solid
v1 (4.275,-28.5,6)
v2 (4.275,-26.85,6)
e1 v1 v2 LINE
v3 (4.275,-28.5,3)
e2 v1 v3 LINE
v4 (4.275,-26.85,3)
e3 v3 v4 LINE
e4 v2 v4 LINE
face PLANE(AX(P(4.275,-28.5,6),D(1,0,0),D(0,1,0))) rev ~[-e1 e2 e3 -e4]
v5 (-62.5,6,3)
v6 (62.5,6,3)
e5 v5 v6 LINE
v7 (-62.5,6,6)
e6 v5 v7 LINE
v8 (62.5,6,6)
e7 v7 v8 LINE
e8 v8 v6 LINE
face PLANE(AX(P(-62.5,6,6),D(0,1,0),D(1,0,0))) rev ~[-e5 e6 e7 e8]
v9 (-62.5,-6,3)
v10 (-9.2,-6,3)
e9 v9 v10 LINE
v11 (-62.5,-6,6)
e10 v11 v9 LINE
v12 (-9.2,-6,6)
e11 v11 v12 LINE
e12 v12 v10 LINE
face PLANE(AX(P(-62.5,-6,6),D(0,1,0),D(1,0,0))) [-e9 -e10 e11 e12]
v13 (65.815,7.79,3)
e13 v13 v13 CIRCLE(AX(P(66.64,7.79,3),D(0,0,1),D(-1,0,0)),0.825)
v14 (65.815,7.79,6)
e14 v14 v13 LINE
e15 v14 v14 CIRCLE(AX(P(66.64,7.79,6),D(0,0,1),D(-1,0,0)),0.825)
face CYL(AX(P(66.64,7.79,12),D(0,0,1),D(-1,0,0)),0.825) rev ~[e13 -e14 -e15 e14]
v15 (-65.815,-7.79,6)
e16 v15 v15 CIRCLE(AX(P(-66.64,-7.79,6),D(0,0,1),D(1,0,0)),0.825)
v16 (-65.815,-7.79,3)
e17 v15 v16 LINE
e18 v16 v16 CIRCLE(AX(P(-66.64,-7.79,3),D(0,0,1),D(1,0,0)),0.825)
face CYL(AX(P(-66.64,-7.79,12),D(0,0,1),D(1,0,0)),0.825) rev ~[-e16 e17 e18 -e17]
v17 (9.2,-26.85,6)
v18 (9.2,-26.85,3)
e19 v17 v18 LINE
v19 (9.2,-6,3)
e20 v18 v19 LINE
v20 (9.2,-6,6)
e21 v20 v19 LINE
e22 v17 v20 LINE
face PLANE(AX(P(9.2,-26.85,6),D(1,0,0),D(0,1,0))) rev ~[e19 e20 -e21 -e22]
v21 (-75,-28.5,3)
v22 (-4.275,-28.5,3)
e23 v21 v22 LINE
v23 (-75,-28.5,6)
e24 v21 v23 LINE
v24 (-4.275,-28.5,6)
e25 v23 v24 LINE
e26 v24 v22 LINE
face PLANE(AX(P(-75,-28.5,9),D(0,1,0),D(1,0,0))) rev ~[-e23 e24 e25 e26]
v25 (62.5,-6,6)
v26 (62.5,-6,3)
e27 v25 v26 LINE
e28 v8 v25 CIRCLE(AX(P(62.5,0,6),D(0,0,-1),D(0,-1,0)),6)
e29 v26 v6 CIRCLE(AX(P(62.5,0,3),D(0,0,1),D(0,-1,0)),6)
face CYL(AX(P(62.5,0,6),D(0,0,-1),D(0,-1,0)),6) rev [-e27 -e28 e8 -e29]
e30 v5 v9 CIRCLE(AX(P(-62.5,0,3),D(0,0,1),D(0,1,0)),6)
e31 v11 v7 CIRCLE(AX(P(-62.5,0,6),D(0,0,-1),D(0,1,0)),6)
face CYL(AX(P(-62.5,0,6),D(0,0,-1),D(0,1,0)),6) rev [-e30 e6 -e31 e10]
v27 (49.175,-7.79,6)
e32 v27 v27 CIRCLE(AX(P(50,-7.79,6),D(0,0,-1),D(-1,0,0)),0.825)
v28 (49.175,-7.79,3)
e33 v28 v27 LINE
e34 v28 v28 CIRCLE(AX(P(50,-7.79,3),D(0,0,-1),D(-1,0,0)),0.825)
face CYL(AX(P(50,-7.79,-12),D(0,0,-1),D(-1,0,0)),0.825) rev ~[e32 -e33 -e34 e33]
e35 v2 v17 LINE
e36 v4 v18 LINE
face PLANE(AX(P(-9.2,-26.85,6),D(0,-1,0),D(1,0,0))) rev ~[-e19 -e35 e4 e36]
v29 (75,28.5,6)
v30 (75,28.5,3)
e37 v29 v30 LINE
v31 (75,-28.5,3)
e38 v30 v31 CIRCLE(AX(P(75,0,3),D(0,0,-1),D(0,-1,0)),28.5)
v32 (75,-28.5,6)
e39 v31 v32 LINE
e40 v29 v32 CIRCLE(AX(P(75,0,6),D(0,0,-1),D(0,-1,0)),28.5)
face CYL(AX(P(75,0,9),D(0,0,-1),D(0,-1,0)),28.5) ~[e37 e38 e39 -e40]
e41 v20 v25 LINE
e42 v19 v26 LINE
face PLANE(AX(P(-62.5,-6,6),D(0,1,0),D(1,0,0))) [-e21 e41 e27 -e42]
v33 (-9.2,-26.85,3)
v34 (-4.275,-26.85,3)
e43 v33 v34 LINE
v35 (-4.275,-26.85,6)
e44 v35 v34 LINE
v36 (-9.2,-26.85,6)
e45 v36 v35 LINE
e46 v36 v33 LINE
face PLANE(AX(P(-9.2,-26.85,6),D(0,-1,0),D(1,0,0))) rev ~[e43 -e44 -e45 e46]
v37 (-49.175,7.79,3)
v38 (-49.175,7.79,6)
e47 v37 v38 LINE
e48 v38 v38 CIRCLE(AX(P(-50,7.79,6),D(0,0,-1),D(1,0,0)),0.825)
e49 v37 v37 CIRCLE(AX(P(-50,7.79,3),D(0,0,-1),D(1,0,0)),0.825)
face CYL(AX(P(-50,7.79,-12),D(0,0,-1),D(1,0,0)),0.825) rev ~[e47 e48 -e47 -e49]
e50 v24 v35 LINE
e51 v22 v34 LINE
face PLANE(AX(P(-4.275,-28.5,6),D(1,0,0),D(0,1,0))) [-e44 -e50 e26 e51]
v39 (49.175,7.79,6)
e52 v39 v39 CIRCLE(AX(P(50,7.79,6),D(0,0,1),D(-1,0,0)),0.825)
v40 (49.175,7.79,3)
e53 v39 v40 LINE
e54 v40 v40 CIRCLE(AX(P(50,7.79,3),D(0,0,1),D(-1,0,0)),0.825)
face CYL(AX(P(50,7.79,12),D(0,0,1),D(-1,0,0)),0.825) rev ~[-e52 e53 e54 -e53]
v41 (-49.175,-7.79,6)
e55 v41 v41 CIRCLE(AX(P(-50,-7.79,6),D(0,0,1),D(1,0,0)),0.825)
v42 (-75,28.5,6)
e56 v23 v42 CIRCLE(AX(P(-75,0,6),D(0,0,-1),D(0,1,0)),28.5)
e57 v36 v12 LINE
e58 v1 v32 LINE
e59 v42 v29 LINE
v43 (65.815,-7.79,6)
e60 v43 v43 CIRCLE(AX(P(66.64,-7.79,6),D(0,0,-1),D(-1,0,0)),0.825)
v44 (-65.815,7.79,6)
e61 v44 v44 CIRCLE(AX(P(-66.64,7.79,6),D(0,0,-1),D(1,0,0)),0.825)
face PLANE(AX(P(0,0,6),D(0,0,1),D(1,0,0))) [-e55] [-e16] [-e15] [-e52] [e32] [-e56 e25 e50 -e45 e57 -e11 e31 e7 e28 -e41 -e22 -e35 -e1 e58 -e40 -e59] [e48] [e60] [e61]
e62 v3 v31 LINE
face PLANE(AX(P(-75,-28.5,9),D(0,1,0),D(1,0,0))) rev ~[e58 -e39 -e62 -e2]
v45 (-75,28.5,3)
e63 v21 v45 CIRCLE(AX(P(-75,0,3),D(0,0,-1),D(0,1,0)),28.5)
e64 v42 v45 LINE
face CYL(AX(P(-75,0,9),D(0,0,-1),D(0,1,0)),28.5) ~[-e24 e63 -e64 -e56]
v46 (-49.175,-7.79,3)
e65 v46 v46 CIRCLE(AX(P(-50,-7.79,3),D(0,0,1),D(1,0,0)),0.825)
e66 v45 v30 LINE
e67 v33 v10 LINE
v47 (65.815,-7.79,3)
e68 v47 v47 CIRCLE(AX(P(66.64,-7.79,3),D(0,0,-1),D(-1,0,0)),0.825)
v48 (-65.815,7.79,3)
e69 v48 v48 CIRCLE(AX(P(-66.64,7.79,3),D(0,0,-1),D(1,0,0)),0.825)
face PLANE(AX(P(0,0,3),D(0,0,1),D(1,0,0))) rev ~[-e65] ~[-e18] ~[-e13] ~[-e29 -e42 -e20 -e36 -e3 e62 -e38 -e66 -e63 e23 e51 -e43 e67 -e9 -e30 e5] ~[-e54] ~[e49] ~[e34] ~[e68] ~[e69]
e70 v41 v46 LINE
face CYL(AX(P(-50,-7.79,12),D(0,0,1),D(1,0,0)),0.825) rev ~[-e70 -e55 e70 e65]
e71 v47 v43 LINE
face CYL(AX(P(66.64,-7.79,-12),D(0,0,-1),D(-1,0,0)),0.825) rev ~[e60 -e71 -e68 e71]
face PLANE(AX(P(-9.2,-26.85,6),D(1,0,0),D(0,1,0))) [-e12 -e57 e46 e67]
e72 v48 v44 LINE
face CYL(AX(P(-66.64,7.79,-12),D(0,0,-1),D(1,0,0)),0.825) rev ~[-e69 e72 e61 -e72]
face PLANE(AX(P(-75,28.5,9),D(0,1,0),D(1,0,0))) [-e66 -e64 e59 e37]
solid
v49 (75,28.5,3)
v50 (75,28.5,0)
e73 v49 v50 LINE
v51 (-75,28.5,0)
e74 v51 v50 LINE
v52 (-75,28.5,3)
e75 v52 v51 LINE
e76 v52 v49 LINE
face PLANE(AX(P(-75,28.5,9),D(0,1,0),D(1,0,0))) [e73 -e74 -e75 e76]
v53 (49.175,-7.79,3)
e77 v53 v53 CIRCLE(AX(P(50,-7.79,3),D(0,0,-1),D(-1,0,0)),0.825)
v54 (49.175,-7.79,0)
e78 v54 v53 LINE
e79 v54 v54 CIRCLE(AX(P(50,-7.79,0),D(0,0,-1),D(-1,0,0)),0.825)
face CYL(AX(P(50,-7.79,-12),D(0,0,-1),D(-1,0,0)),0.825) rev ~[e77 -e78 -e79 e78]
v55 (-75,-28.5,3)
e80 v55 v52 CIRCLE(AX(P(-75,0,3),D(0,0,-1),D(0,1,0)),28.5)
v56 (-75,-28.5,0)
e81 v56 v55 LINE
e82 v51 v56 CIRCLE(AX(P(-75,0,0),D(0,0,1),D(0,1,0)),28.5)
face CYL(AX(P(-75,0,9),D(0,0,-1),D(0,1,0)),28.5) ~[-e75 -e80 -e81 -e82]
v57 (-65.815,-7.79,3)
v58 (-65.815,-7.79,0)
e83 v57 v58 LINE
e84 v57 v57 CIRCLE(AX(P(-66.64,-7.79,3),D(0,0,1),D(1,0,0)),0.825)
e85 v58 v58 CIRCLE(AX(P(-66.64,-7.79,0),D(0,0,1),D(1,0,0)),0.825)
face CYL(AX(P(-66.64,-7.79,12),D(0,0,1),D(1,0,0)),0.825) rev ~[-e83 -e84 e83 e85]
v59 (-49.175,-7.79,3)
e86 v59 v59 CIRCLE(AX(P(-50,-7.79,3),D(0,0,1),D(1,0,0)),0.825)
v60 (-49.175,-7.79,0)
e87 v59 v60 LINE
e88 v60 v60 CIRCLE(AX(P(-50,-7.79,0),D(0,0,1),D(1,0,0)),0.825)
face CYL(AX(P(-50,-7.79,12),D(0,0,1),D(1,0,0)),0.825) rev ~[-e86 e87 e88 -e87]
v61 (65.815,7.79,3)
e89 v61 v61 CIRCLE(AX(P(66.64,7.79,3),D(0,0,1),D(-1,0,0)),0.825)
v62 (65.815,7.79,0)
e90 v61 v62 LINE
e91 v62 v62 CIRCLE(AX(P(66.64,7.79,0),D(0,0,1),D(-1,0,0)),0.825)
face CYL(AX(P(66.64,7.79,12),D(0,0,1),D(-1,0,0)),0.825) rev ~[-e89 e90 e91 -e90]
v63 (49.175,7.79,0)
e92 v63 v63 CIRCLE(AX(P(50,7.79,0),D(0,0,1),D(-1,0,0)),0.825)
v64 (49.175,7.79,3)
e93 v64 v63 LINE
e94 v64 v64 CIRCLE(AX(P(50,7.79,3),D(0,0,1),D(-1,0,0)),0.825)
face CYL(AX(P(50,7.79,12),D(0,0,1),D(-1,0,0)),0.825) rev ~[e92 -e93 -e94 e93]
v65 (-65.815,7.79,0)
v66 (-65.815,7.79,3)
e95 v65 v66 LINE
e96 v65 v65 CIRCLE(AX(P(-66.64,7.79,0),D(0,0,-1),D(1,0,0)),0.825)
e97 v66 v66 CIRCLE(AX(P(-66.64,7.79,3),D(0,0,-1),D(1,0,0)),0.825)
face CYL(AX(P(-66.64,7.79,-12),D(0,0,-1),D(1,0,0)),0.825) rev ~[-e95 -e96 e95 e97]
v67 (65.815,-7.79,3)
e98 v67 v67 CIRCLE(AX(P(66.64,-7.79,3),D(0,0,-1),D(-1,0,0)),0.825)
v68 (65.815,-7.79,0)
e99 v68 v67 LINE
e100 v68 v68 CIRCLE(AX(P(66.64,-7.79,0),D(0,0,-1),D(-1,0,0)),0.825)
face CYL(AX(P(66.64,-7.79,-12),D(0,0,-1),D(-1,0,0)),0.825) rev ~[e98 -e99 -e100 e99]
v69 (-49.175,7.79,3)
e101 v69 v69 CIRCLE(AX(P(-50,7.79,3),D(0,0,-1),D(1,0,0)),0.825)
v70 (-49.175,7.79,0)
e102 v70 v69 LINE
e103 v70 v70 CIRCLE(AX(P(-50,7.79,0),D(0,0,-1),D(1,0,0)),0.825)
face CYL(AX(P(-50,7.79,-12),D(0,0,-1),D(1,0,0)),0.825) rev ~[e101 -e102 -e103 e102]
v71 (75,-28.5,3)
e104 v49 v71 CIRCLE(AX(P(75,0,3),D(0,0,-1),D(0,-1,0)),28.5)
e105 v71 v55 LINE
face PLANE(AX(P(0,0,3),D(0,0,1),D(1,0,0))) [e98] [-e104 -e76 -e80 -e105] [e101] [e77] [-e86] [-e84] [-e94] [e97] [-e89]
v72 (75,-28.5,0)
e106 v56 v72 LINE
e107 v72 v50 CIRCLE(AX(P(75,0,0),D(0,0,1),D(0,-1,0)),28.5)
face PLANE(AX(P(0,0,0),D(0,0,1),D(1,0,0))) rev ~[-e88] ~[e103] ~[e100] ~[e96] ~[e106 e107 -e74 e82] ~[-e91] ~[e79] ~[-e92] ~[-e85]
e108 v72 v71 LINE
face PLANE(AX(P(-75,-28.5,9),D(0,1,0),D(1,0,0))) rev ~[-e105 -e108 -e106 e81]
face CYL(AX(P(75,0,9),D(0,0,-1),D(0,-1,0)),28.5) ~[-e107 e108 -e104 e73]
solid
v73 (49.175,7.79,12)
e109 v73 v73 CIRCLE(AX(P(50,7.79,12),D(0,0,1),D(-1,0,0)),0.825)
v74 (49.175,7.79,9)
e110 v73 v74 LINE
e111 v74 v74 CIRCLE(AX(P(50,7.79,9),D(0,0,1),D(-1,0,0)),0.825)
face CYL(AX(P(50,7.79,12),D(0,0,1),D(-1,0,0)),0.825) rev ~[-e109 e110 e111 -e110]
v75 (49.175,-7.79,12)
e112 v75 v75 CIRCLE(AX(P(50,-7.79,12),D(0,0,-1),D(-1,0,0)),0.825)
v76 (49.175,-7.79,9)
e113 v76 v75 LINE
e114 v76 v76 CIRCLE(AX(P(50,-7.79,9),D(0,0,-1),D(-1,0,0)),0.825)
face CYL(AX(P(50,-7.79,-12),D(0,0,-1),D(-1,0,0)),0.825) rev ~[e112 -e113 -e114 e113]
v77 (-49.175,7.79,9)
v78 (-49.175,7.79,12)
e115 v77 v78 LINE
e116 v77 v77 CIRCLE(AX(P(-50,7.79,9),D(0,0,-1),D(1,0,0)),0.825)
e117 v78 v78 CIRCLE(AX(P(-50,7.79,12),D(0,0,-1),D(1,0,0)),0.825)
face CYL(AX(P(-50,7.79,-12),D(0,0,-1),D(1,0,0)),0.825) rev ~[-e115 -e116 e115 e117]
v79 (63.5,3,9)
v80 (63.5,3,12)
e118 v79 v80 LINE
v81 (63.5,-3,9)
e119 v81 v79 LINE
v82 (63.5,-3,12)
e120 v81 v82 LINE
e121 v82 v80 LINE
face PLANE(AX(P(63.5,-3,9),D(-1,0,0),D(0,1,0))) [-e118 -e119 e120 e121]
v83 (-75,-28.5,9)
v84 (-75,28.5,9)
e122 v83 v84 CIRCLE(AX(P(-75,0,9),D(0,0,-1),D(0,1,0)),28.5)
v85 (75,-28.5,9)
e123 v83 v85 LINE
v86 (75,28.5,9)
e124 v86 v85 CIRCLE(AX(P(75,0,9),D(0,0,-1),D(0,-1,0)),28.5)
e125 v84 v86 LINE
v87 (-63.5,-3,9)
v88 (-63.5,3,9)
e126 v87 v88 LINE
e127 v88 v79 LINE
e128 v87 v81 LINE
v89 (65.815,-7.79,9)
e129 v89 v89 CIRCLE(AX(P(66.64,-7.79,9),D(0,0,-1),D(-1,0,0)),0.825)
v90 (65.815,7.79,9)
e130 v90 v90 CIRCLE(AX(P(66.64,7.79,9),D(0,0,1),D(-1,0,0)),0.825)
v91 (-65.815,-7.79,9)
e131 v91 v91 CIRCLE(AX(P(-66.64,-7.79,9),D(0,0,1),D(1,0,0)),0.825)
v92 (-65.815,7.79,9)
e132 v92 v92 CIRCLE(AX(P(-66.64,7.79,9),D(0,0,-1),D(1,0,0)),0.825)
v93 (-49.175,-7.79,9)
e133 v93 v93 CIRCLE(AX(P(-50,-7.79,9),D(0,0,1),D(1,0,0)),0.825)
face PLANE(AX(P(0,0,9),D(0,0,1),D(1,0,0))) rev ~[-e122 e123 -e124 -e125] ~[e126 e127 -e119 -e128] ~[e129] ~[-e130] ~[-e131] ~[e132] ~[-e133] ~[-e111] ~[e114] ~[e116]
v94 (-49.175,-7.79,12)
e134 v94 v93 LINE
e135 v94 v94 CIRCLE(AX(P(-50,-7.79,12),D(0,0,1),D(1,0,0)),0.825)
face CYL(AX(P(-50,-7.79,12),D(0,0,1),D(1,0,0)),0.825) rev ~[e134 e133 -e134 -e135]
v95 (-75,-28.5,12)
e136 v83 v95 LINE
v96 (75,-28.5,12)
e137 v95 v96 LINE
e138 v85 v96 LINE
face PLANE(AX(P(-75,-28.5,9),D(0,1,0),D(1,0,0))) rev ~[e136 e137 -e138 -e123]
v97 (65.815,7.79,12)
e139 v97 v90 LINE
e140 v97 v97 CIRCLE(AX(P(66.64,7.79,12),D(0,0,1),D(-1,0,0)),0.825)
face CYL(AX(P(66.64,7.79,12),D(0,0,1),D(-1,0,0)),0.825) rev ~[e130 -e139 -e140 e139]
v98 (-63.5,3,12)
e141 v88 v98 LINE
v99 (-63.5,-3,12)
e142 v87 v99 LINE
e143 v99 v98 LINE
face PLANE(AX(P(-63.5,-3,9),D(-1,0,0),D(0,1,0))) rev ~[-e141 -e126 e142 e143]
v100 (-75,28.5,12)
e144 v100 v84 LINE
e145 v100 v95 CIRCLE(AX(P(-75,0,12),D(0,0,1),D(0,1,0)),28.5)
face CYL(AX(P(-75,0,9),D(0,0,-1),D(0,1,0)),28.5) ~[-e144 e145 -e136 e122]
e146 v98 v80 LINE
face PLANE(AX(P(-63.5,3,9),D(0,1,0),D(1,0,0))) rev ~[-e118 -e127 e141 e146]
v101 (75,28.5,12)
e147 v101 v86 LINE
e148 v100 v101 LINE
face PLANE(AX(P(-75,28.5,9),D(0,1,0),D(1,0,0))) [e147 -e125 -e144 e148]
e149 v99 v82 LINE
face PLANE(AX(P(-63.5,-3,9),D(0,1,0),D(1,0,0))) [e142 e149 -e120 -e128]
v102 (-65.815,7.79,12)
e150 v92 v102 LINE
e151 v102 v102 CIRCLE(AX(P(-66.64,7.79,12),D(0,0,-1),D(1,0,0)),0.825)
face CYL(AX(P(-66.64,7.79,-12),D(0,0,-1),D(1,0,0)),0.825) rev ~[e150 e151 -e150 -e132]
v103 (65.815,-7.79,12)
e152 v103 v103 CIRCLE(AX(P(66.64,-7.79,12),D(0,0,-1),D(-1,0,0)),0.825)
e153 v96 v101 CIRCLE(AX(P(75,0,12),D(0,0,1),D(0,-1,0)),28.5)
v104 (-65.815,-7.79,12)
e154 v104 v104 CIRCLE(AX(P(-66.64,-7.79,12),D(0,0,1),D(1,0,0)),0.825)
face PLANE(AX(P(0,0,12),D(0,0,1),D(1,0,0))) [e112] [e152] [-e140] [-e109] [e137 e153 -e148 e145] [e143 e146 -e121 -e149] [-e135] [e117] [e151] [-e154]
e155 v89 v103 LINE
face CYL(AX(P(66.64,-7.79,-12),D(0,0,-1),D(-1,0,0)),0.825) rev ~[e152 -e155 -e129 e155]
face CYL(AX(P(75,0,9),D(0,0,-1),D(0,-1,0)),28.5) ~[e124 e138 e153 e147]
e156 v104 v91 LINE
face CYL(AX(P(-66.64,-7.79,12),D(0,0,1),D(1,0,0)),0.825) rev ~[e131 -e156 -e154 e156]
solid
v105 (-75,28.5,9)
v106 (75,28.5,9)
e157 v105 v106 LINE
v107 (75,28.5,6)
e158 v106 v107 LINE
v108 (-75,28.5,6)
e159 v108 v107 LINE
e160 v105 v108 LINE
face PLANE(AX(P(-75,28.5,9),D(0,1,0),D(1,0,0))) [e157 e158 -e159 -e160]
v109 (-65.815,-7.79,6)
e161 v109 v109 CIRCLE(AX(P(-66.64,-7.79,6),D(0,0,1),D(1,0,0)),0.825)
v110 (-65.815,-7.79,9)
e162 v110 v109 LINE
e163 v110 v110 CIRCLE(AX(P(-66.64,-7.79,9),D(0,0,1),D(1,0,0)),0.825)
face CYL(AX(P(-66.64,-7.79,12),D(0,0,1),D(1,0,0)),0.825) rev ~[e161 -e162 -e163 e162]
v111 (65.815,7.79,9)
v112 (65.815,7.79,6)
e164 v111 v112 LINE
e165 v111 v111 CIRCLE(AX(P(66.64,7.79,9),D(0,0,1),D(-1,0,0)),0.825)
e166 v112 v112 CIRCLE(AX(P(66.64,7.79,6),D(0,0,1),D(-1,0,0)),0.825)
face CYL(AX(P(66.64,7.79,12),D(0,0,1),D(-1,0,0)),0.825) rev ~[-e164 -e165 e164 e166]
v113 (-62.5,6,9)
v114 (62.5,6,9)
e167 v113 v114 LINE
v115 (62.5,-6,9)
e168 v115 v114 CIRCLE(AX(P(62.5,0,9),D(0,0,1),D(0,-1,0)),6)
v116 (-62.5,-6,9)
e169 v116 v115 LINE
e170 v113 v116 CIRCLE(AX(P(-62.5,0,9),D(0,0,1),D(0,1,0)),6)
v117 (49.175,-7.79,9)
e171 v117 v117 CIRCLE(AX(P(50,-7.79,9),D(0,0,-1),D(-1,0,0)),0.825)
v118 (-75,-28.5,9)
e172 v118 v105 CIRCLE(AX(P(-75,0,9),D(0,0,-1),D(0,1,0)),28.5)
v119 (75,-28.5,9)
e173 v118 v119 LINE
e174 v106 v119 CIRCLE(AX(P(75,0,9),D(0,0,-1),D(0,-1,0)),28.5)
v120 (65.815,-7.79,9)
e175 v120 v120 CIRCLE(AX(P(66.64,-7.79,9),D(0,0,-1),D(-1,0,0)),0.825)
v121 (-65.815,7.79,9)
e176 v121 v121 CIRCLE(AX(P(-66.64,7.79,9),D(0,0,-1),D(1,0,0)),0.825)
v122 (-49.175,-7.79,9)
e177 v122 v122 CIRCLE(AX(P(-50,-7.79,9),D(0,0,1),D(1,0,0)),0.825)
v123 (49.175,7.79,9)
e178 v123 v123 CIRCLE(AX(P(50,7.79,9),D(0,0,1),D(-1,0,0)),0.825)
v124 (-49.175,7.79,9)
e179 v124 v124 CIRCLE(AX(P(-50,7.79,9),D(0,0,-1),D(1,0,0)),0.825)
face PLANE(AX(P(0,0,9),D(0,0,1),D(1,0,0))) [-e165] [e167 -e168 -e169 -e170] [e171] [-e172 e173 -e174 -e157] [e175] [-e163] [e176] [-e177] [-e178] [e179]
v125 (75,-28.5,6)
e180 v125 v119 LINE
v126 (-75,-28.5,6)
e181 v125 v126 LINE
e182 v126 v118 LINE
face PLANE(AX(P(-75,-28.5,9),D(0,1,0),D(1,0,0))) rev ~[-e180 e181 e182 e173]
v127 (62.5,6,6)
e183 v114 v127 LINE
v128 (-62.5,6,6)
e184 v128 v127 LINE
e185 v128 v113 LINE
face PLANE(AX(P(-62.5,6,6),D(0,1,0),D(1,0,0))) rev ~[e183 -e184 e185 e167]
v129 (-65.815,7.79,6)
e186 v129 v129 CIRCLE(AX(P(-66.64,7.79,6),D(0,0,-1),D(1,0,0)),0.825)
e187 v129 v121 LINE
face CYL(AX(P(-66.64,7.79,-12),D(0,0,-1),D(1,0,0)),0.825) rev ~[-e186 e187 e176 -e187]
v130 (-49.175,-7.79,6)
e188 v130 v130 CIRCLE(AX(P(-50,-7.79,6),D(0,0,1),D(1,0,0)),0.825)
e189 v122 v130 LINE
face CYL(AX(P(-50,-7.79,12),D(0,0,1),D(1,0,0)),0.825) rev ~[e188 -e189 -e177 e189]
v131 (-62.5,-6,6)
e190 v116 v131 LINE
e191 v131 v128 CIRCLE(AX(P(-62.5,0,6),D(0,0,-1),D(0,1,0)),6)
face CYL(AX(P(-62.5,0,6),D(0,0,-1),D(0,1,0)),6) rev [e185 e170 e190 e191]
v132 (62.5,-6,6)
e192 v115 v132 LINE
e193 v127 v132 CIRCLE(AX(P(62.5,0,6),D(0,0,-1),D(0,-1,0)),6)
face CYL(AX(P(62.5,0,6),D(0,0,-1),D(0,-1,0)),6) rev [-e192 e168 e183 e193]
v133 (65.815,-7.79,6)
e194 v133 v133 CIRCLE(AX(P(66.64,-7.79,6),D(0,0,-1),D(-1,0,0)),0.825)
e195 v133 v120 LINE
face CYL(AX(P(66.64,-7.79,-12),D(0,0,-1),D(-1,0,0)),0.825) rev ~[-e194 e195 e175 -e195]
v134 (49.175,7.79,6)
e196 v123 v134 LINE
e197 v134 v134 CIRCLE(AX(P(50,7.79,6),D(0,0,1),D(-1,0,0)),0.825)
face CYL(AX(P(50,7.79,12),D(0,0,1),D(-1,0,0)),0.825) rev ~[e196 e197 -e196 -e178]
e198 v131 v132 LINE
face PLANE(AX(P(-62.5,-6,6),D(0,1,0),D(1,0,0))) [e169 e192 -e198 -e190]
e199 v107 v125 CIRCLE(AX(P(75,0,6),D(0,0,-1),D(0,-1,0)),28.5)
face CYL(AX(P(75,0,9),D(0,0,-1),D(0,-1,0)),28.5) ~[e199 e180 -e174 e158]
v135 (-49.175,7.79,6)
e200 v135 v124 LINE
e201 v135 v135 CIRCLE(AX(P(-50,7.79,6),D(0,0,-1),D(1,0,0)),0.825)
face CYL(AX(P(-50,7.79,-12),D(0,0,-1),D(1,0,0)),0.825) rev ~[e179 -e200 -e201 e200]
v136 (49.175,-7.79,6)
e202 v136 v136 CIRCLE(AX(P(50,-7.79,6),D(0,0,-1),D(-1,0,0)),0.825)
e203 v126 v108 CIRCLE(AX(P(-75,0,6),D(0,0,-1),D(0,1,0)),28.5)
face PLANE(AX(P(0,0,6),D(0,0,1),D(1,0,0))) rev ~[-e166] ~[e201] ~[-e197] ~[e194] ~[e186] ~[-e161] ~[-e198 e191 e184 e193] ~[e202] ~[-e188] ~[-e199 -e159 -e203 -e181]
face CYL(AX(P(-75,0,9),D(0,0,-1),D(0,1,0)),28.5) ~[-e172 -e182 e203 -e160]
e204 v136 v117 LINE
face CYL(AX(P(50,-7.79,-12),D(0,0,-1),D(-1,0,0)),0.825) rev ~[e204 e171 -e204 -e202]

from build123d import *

# Parameters (mm, degrees)
BOX_BOTTOM_HALF_1_W     = 209
BOX_BOTTOM_HALF_1_H     = 59
BOX_BOTTOM_HALF_1_DEPTH = 4
BOX_BOTTOM_HALF_0_W     = 209
BOX_BOTTOM_HALF_0_H     = 59
BOX_BOTTOM_HALF_0_DEPTH = 7
PAD_DEPTH               = 6
POCKET_DEPTH            = 3
SKETCH002_W             = 18.4
SKETCH002_H             = 20.85
POCKET001_DEPTH         = 3
SKETCH003_W             = 8.55
SKETCH003_H             = 1.65
POCKET002_DEPTH         = 3
PAD001_DEPTH            = 3
SKETCH005_W             = 127
SKETCH005_H             = 6
PAD002_DEPTH            = 3
SKETCH006_R             = 0.825
POCKET003_DEPTH         = 442.080062
POLARPATTERN_COUNT      = 2
POLARPATTERN001_COUNT   = 2
POLARPATTERN002_COUNT   = 2
BOX_BOTTOM_HALF_2_W     = 209
BOX_BOTTOM_HALF_2_H     = 59
BOX_BOTTOM_HALF_2_DEPTH = 4


with BuildPart() as box_bottom_half_1_body:
    # box_bottom_half_1 → box_bottom_half_1 (new body)
    with BuildSketch(Plane(origin=(-104.5, -29.5, -1), x_dir=(1, 0, 0), z_dir=(0, 0, 1))):
        with Locations((104.5, 29.5)):
            Rectangle(BOX_BOTTOM_HALF_1_W, BOX_BOTTOM_HALF_1_H)
    extrude(amount=BOX_BOTTOM_HALF_1_DEPTH)


with BuildPart() as box_bottom_half_0_body:
    # box_bottom_half_0 → box_bottom_half_0 (new body)
    with BuildSketch(Plane(origin=(-104.5, -29.5, -1), x_dir=(1, 0, 0), z_dir=(0, 0, 1))):
        with Locations((104.5, 29.5)):
            Rectangle(BOX_BOTTOM_HALF_0_W, BOX_BOTTOM_HALF_0_H)
    extrude(amount=BOX_BOTTOM_HALF_0_DEPTH)


with BuildPart() as body:
    # Sketch → Pad (new body)
    with BuildSketch(Plane.XY):
        with BuildLine():
            ThreePointArc((-75, 28.5), (-103.5, 0), (-75, -28.5))
            Line((-75, -28.5), (75, -28.5))
            ThreePointArc((75, -28.5), (103.5, 0), (75, 28.5))
            Line((-75, 28.5), (75, 28.5))
        make_face()
    extrude(amount=PAD_DEPTH)

    # Sketch001 (on Face6 of Pad) → Pocket (cut)
    with BuildSketch(Plane.XY.offset(6)):
        with BuildLine():
            ThreePointArc((-62.5, 6), (-68.5, 0), (-62.5, -6))
            Line((-62.5, -6), (62.5, -6))
            ThreePointArc((62.5, -6), (68.5, 0), (62.5, 6))
            Line((-62.5, 6), (62.5, 6))
        make_face()
    extrude(amount=-POCKET_DEPTH, mode=Mode.SUBTRACT)

    # Sketch002 (on Face5 of Pocket) → Pocket001 (cut)
    with BuildSketch(Plane.XY.offset(6)):
        with Locations((0, -16.425)):
            Rectangle(SKETCH002_W, SKETCH002_H)
    extrude(amount=-POCKET001_DEPTH, mode=Mode.SUBTRACT)

    # Sketch003 (on Face5 of Pocket001) → Pocket002 (cut)
    with BuildSketch(Plane.XY.offset(6)):
        with Locations((0, -27.675)):
            Rectangle(SKETCH003_W, SKETCH003_H)
    extrude(amount=-POCKET002_DEPTH, mode=Mode.SUBTRACT)

    # Sketch004 (on Face5 of Pocket002) → Pad001 (join)
    with BuildSketch(Plane.XY.offset(6)):
        with BuildLine():
            ThreePointArc((-75, 28.5), (-103.5, 0), (-75, -28.5))
            Line((-75, -28.5), (75, -28.5))
            ThreePointArc((75, -28.5), (103.5, 0), (75, 28.5))
            Line((-75, 28.5), (75, 28.5))
        make_face()
        with BuildLine():
            ThreePointArc((-62.5, 6), (-68.5, 0), (-62.5, -6))
            Line((-62.5, -6), (62.5, -6))
            ThreePointArc((62.5, -6), (68.5, 0), (62.5, 6))
            Line((-62.5, 6), (62.5, 6))
        make_face(mode=Mode.SUBTRACT)
    extrude(amount=PAD001_DEPTH)

    # Sketch005 (on Face12 of Pad001) → Pad002 (join)
    with BuildSketch(Plane.XY.offset(9)):
        with BuildLine():
            ThreePointArc((-75, 28.5), (-103.5, 0), (-75, -28.5))
            Line((-75, -28.5), (75, -28.5))
            ThreePointArc((75, -28.5), (103.5, 0), (75, 28.5))
            Line((-75, 28.5), (75, 28.5))
        make_face()
        Rectangle(SKETCH005_W, SKETCH005_H, mode=Mode.SUBTRACT)
    extrude(amount=PAD002_DEPTH)

    # Sketch006 (on Face20 of Pad002) → Pocket003 (cut, through all)
    with BuildSketch(Plane.XY.offset(12)):
        with Locations((-66.64, -7.79)):
            Circle(SKETCH006_R)
        with Locations((-50, -7.79)):
            Circle(SKETCH006_R)
    pocket003 = extrude(amount=-POCKET003_DEPTH, mode=Mode.SUBTRACT)

    # PolarPattern: Pocket003 ×2 about axis
    polarpattern_axis = Axis((0, 0, 12), (0, 0, 1))
    for i in range(1, POLARPATTERN_COUNT):
        add(pocket003.rotate(polarpattern_axis, i * 360 / POLARPATTERN_COUNT), mode=Mode.SUBTRACT)

    # PolarPattern001: Pocket003 ×2 about axis
    polarpattern001_axis = Axis((0, 0, 0), (0, 1, 0))
    for i in range(1, POLARPATTERN001_COUNT):
        add(pocket003.rotate(polarpattern001_axis, i * 360 / POLARPATTERN001_COUNT), mode=Mode.SUBTRACT)

    # PolarPattern002: Pocket003 ×2 about axis
    polarpattern002_axis = Axis((0, 0, 0), (-1, 0, 0))
    for i in range(1, POLARPATTERN002_COUNT):
        add(pocket003.rotate(polarpattern002_axis, i * 360 / POLARPATTERN002_COUNT), mode=Mode.SUBTRACT)


with BuildPart() as bottom_half_0_body:
    # bottom_half_0 base: copy of Body
    add(body.part)

    # bottom_half_0: intersect box_bottom_half_0 body
    add(box_bottom_half_0_body.part, mode=Mode.INTERSECT)


with BuildPart() as bottom_half_1_body:
    # bottom_half_1 base: copy of bottom_half_0 body
    add(bottom_half_0_body.part)

    # bottom_half_1: intersect box_bottom_half_1 body
    add(box_bottom_half_1_body.part, mode=Mode.INTERSECT)


with BuildPart() as top_half_1_body:
    # top_half_1 base: copy of bottom_half_0 body
    add(bottom_half_0_body.part)

    # top_half_1: cut box_bottom_half_1 body
    add(box_bottom_half_1_body.part, mode=Mode.SUBTRACT)


with BuildPart() as box_bottom_half_2_body:
    # box_bottom_half_2 → box_bottom_half_2 (new body)
    with BuildSketch(Plane(origin=(-104.5, -29.5, 5), x_dir=(1, 0, 0), z_dir=(0, 0, 1))):
        with Locations((104.5, 29.5)):
            Rectangle(BOX_BOTTOM_HALF_2_W, BOX_BOTTOM_HALF_2_H)
    extrude(amount=BOX_BOTTOM_HALF_2_DEPTH)


with BuildPart() as top_half_0_body:
    # top_half_0 base: copy of Body
    add(body.part)

    # top_half_0: cut box_bottom_half_0 body
    add(box_bottom_half_0_body.part, mode=Mode.SUBTRACT)


with BuildPart() as bottom_half_2_body:
    # bottom_half_2 base: copy of top_half_0 body
    add(top_half_0_body.part)

    # bottom_half_2: intersect box_bottom_half_2 body
    add(box_bottom_half_2_body.part, mode=Mode.INTERSECT)


with BuildPart() as top_half_2_body:
    # top_half_2 base: copy of top_half_0 body
    add(top_half_0_body.part)

    # top_half_2: cut box_bottom_half_2 body
    add(box_bottom_half_2_body.part, mode=Mode.SUBTRACT)


solid = Compound([bottom_half_1_body.part, top_half_1_body.part, bottom_half_2_body.part, top_half_2_body.part])
